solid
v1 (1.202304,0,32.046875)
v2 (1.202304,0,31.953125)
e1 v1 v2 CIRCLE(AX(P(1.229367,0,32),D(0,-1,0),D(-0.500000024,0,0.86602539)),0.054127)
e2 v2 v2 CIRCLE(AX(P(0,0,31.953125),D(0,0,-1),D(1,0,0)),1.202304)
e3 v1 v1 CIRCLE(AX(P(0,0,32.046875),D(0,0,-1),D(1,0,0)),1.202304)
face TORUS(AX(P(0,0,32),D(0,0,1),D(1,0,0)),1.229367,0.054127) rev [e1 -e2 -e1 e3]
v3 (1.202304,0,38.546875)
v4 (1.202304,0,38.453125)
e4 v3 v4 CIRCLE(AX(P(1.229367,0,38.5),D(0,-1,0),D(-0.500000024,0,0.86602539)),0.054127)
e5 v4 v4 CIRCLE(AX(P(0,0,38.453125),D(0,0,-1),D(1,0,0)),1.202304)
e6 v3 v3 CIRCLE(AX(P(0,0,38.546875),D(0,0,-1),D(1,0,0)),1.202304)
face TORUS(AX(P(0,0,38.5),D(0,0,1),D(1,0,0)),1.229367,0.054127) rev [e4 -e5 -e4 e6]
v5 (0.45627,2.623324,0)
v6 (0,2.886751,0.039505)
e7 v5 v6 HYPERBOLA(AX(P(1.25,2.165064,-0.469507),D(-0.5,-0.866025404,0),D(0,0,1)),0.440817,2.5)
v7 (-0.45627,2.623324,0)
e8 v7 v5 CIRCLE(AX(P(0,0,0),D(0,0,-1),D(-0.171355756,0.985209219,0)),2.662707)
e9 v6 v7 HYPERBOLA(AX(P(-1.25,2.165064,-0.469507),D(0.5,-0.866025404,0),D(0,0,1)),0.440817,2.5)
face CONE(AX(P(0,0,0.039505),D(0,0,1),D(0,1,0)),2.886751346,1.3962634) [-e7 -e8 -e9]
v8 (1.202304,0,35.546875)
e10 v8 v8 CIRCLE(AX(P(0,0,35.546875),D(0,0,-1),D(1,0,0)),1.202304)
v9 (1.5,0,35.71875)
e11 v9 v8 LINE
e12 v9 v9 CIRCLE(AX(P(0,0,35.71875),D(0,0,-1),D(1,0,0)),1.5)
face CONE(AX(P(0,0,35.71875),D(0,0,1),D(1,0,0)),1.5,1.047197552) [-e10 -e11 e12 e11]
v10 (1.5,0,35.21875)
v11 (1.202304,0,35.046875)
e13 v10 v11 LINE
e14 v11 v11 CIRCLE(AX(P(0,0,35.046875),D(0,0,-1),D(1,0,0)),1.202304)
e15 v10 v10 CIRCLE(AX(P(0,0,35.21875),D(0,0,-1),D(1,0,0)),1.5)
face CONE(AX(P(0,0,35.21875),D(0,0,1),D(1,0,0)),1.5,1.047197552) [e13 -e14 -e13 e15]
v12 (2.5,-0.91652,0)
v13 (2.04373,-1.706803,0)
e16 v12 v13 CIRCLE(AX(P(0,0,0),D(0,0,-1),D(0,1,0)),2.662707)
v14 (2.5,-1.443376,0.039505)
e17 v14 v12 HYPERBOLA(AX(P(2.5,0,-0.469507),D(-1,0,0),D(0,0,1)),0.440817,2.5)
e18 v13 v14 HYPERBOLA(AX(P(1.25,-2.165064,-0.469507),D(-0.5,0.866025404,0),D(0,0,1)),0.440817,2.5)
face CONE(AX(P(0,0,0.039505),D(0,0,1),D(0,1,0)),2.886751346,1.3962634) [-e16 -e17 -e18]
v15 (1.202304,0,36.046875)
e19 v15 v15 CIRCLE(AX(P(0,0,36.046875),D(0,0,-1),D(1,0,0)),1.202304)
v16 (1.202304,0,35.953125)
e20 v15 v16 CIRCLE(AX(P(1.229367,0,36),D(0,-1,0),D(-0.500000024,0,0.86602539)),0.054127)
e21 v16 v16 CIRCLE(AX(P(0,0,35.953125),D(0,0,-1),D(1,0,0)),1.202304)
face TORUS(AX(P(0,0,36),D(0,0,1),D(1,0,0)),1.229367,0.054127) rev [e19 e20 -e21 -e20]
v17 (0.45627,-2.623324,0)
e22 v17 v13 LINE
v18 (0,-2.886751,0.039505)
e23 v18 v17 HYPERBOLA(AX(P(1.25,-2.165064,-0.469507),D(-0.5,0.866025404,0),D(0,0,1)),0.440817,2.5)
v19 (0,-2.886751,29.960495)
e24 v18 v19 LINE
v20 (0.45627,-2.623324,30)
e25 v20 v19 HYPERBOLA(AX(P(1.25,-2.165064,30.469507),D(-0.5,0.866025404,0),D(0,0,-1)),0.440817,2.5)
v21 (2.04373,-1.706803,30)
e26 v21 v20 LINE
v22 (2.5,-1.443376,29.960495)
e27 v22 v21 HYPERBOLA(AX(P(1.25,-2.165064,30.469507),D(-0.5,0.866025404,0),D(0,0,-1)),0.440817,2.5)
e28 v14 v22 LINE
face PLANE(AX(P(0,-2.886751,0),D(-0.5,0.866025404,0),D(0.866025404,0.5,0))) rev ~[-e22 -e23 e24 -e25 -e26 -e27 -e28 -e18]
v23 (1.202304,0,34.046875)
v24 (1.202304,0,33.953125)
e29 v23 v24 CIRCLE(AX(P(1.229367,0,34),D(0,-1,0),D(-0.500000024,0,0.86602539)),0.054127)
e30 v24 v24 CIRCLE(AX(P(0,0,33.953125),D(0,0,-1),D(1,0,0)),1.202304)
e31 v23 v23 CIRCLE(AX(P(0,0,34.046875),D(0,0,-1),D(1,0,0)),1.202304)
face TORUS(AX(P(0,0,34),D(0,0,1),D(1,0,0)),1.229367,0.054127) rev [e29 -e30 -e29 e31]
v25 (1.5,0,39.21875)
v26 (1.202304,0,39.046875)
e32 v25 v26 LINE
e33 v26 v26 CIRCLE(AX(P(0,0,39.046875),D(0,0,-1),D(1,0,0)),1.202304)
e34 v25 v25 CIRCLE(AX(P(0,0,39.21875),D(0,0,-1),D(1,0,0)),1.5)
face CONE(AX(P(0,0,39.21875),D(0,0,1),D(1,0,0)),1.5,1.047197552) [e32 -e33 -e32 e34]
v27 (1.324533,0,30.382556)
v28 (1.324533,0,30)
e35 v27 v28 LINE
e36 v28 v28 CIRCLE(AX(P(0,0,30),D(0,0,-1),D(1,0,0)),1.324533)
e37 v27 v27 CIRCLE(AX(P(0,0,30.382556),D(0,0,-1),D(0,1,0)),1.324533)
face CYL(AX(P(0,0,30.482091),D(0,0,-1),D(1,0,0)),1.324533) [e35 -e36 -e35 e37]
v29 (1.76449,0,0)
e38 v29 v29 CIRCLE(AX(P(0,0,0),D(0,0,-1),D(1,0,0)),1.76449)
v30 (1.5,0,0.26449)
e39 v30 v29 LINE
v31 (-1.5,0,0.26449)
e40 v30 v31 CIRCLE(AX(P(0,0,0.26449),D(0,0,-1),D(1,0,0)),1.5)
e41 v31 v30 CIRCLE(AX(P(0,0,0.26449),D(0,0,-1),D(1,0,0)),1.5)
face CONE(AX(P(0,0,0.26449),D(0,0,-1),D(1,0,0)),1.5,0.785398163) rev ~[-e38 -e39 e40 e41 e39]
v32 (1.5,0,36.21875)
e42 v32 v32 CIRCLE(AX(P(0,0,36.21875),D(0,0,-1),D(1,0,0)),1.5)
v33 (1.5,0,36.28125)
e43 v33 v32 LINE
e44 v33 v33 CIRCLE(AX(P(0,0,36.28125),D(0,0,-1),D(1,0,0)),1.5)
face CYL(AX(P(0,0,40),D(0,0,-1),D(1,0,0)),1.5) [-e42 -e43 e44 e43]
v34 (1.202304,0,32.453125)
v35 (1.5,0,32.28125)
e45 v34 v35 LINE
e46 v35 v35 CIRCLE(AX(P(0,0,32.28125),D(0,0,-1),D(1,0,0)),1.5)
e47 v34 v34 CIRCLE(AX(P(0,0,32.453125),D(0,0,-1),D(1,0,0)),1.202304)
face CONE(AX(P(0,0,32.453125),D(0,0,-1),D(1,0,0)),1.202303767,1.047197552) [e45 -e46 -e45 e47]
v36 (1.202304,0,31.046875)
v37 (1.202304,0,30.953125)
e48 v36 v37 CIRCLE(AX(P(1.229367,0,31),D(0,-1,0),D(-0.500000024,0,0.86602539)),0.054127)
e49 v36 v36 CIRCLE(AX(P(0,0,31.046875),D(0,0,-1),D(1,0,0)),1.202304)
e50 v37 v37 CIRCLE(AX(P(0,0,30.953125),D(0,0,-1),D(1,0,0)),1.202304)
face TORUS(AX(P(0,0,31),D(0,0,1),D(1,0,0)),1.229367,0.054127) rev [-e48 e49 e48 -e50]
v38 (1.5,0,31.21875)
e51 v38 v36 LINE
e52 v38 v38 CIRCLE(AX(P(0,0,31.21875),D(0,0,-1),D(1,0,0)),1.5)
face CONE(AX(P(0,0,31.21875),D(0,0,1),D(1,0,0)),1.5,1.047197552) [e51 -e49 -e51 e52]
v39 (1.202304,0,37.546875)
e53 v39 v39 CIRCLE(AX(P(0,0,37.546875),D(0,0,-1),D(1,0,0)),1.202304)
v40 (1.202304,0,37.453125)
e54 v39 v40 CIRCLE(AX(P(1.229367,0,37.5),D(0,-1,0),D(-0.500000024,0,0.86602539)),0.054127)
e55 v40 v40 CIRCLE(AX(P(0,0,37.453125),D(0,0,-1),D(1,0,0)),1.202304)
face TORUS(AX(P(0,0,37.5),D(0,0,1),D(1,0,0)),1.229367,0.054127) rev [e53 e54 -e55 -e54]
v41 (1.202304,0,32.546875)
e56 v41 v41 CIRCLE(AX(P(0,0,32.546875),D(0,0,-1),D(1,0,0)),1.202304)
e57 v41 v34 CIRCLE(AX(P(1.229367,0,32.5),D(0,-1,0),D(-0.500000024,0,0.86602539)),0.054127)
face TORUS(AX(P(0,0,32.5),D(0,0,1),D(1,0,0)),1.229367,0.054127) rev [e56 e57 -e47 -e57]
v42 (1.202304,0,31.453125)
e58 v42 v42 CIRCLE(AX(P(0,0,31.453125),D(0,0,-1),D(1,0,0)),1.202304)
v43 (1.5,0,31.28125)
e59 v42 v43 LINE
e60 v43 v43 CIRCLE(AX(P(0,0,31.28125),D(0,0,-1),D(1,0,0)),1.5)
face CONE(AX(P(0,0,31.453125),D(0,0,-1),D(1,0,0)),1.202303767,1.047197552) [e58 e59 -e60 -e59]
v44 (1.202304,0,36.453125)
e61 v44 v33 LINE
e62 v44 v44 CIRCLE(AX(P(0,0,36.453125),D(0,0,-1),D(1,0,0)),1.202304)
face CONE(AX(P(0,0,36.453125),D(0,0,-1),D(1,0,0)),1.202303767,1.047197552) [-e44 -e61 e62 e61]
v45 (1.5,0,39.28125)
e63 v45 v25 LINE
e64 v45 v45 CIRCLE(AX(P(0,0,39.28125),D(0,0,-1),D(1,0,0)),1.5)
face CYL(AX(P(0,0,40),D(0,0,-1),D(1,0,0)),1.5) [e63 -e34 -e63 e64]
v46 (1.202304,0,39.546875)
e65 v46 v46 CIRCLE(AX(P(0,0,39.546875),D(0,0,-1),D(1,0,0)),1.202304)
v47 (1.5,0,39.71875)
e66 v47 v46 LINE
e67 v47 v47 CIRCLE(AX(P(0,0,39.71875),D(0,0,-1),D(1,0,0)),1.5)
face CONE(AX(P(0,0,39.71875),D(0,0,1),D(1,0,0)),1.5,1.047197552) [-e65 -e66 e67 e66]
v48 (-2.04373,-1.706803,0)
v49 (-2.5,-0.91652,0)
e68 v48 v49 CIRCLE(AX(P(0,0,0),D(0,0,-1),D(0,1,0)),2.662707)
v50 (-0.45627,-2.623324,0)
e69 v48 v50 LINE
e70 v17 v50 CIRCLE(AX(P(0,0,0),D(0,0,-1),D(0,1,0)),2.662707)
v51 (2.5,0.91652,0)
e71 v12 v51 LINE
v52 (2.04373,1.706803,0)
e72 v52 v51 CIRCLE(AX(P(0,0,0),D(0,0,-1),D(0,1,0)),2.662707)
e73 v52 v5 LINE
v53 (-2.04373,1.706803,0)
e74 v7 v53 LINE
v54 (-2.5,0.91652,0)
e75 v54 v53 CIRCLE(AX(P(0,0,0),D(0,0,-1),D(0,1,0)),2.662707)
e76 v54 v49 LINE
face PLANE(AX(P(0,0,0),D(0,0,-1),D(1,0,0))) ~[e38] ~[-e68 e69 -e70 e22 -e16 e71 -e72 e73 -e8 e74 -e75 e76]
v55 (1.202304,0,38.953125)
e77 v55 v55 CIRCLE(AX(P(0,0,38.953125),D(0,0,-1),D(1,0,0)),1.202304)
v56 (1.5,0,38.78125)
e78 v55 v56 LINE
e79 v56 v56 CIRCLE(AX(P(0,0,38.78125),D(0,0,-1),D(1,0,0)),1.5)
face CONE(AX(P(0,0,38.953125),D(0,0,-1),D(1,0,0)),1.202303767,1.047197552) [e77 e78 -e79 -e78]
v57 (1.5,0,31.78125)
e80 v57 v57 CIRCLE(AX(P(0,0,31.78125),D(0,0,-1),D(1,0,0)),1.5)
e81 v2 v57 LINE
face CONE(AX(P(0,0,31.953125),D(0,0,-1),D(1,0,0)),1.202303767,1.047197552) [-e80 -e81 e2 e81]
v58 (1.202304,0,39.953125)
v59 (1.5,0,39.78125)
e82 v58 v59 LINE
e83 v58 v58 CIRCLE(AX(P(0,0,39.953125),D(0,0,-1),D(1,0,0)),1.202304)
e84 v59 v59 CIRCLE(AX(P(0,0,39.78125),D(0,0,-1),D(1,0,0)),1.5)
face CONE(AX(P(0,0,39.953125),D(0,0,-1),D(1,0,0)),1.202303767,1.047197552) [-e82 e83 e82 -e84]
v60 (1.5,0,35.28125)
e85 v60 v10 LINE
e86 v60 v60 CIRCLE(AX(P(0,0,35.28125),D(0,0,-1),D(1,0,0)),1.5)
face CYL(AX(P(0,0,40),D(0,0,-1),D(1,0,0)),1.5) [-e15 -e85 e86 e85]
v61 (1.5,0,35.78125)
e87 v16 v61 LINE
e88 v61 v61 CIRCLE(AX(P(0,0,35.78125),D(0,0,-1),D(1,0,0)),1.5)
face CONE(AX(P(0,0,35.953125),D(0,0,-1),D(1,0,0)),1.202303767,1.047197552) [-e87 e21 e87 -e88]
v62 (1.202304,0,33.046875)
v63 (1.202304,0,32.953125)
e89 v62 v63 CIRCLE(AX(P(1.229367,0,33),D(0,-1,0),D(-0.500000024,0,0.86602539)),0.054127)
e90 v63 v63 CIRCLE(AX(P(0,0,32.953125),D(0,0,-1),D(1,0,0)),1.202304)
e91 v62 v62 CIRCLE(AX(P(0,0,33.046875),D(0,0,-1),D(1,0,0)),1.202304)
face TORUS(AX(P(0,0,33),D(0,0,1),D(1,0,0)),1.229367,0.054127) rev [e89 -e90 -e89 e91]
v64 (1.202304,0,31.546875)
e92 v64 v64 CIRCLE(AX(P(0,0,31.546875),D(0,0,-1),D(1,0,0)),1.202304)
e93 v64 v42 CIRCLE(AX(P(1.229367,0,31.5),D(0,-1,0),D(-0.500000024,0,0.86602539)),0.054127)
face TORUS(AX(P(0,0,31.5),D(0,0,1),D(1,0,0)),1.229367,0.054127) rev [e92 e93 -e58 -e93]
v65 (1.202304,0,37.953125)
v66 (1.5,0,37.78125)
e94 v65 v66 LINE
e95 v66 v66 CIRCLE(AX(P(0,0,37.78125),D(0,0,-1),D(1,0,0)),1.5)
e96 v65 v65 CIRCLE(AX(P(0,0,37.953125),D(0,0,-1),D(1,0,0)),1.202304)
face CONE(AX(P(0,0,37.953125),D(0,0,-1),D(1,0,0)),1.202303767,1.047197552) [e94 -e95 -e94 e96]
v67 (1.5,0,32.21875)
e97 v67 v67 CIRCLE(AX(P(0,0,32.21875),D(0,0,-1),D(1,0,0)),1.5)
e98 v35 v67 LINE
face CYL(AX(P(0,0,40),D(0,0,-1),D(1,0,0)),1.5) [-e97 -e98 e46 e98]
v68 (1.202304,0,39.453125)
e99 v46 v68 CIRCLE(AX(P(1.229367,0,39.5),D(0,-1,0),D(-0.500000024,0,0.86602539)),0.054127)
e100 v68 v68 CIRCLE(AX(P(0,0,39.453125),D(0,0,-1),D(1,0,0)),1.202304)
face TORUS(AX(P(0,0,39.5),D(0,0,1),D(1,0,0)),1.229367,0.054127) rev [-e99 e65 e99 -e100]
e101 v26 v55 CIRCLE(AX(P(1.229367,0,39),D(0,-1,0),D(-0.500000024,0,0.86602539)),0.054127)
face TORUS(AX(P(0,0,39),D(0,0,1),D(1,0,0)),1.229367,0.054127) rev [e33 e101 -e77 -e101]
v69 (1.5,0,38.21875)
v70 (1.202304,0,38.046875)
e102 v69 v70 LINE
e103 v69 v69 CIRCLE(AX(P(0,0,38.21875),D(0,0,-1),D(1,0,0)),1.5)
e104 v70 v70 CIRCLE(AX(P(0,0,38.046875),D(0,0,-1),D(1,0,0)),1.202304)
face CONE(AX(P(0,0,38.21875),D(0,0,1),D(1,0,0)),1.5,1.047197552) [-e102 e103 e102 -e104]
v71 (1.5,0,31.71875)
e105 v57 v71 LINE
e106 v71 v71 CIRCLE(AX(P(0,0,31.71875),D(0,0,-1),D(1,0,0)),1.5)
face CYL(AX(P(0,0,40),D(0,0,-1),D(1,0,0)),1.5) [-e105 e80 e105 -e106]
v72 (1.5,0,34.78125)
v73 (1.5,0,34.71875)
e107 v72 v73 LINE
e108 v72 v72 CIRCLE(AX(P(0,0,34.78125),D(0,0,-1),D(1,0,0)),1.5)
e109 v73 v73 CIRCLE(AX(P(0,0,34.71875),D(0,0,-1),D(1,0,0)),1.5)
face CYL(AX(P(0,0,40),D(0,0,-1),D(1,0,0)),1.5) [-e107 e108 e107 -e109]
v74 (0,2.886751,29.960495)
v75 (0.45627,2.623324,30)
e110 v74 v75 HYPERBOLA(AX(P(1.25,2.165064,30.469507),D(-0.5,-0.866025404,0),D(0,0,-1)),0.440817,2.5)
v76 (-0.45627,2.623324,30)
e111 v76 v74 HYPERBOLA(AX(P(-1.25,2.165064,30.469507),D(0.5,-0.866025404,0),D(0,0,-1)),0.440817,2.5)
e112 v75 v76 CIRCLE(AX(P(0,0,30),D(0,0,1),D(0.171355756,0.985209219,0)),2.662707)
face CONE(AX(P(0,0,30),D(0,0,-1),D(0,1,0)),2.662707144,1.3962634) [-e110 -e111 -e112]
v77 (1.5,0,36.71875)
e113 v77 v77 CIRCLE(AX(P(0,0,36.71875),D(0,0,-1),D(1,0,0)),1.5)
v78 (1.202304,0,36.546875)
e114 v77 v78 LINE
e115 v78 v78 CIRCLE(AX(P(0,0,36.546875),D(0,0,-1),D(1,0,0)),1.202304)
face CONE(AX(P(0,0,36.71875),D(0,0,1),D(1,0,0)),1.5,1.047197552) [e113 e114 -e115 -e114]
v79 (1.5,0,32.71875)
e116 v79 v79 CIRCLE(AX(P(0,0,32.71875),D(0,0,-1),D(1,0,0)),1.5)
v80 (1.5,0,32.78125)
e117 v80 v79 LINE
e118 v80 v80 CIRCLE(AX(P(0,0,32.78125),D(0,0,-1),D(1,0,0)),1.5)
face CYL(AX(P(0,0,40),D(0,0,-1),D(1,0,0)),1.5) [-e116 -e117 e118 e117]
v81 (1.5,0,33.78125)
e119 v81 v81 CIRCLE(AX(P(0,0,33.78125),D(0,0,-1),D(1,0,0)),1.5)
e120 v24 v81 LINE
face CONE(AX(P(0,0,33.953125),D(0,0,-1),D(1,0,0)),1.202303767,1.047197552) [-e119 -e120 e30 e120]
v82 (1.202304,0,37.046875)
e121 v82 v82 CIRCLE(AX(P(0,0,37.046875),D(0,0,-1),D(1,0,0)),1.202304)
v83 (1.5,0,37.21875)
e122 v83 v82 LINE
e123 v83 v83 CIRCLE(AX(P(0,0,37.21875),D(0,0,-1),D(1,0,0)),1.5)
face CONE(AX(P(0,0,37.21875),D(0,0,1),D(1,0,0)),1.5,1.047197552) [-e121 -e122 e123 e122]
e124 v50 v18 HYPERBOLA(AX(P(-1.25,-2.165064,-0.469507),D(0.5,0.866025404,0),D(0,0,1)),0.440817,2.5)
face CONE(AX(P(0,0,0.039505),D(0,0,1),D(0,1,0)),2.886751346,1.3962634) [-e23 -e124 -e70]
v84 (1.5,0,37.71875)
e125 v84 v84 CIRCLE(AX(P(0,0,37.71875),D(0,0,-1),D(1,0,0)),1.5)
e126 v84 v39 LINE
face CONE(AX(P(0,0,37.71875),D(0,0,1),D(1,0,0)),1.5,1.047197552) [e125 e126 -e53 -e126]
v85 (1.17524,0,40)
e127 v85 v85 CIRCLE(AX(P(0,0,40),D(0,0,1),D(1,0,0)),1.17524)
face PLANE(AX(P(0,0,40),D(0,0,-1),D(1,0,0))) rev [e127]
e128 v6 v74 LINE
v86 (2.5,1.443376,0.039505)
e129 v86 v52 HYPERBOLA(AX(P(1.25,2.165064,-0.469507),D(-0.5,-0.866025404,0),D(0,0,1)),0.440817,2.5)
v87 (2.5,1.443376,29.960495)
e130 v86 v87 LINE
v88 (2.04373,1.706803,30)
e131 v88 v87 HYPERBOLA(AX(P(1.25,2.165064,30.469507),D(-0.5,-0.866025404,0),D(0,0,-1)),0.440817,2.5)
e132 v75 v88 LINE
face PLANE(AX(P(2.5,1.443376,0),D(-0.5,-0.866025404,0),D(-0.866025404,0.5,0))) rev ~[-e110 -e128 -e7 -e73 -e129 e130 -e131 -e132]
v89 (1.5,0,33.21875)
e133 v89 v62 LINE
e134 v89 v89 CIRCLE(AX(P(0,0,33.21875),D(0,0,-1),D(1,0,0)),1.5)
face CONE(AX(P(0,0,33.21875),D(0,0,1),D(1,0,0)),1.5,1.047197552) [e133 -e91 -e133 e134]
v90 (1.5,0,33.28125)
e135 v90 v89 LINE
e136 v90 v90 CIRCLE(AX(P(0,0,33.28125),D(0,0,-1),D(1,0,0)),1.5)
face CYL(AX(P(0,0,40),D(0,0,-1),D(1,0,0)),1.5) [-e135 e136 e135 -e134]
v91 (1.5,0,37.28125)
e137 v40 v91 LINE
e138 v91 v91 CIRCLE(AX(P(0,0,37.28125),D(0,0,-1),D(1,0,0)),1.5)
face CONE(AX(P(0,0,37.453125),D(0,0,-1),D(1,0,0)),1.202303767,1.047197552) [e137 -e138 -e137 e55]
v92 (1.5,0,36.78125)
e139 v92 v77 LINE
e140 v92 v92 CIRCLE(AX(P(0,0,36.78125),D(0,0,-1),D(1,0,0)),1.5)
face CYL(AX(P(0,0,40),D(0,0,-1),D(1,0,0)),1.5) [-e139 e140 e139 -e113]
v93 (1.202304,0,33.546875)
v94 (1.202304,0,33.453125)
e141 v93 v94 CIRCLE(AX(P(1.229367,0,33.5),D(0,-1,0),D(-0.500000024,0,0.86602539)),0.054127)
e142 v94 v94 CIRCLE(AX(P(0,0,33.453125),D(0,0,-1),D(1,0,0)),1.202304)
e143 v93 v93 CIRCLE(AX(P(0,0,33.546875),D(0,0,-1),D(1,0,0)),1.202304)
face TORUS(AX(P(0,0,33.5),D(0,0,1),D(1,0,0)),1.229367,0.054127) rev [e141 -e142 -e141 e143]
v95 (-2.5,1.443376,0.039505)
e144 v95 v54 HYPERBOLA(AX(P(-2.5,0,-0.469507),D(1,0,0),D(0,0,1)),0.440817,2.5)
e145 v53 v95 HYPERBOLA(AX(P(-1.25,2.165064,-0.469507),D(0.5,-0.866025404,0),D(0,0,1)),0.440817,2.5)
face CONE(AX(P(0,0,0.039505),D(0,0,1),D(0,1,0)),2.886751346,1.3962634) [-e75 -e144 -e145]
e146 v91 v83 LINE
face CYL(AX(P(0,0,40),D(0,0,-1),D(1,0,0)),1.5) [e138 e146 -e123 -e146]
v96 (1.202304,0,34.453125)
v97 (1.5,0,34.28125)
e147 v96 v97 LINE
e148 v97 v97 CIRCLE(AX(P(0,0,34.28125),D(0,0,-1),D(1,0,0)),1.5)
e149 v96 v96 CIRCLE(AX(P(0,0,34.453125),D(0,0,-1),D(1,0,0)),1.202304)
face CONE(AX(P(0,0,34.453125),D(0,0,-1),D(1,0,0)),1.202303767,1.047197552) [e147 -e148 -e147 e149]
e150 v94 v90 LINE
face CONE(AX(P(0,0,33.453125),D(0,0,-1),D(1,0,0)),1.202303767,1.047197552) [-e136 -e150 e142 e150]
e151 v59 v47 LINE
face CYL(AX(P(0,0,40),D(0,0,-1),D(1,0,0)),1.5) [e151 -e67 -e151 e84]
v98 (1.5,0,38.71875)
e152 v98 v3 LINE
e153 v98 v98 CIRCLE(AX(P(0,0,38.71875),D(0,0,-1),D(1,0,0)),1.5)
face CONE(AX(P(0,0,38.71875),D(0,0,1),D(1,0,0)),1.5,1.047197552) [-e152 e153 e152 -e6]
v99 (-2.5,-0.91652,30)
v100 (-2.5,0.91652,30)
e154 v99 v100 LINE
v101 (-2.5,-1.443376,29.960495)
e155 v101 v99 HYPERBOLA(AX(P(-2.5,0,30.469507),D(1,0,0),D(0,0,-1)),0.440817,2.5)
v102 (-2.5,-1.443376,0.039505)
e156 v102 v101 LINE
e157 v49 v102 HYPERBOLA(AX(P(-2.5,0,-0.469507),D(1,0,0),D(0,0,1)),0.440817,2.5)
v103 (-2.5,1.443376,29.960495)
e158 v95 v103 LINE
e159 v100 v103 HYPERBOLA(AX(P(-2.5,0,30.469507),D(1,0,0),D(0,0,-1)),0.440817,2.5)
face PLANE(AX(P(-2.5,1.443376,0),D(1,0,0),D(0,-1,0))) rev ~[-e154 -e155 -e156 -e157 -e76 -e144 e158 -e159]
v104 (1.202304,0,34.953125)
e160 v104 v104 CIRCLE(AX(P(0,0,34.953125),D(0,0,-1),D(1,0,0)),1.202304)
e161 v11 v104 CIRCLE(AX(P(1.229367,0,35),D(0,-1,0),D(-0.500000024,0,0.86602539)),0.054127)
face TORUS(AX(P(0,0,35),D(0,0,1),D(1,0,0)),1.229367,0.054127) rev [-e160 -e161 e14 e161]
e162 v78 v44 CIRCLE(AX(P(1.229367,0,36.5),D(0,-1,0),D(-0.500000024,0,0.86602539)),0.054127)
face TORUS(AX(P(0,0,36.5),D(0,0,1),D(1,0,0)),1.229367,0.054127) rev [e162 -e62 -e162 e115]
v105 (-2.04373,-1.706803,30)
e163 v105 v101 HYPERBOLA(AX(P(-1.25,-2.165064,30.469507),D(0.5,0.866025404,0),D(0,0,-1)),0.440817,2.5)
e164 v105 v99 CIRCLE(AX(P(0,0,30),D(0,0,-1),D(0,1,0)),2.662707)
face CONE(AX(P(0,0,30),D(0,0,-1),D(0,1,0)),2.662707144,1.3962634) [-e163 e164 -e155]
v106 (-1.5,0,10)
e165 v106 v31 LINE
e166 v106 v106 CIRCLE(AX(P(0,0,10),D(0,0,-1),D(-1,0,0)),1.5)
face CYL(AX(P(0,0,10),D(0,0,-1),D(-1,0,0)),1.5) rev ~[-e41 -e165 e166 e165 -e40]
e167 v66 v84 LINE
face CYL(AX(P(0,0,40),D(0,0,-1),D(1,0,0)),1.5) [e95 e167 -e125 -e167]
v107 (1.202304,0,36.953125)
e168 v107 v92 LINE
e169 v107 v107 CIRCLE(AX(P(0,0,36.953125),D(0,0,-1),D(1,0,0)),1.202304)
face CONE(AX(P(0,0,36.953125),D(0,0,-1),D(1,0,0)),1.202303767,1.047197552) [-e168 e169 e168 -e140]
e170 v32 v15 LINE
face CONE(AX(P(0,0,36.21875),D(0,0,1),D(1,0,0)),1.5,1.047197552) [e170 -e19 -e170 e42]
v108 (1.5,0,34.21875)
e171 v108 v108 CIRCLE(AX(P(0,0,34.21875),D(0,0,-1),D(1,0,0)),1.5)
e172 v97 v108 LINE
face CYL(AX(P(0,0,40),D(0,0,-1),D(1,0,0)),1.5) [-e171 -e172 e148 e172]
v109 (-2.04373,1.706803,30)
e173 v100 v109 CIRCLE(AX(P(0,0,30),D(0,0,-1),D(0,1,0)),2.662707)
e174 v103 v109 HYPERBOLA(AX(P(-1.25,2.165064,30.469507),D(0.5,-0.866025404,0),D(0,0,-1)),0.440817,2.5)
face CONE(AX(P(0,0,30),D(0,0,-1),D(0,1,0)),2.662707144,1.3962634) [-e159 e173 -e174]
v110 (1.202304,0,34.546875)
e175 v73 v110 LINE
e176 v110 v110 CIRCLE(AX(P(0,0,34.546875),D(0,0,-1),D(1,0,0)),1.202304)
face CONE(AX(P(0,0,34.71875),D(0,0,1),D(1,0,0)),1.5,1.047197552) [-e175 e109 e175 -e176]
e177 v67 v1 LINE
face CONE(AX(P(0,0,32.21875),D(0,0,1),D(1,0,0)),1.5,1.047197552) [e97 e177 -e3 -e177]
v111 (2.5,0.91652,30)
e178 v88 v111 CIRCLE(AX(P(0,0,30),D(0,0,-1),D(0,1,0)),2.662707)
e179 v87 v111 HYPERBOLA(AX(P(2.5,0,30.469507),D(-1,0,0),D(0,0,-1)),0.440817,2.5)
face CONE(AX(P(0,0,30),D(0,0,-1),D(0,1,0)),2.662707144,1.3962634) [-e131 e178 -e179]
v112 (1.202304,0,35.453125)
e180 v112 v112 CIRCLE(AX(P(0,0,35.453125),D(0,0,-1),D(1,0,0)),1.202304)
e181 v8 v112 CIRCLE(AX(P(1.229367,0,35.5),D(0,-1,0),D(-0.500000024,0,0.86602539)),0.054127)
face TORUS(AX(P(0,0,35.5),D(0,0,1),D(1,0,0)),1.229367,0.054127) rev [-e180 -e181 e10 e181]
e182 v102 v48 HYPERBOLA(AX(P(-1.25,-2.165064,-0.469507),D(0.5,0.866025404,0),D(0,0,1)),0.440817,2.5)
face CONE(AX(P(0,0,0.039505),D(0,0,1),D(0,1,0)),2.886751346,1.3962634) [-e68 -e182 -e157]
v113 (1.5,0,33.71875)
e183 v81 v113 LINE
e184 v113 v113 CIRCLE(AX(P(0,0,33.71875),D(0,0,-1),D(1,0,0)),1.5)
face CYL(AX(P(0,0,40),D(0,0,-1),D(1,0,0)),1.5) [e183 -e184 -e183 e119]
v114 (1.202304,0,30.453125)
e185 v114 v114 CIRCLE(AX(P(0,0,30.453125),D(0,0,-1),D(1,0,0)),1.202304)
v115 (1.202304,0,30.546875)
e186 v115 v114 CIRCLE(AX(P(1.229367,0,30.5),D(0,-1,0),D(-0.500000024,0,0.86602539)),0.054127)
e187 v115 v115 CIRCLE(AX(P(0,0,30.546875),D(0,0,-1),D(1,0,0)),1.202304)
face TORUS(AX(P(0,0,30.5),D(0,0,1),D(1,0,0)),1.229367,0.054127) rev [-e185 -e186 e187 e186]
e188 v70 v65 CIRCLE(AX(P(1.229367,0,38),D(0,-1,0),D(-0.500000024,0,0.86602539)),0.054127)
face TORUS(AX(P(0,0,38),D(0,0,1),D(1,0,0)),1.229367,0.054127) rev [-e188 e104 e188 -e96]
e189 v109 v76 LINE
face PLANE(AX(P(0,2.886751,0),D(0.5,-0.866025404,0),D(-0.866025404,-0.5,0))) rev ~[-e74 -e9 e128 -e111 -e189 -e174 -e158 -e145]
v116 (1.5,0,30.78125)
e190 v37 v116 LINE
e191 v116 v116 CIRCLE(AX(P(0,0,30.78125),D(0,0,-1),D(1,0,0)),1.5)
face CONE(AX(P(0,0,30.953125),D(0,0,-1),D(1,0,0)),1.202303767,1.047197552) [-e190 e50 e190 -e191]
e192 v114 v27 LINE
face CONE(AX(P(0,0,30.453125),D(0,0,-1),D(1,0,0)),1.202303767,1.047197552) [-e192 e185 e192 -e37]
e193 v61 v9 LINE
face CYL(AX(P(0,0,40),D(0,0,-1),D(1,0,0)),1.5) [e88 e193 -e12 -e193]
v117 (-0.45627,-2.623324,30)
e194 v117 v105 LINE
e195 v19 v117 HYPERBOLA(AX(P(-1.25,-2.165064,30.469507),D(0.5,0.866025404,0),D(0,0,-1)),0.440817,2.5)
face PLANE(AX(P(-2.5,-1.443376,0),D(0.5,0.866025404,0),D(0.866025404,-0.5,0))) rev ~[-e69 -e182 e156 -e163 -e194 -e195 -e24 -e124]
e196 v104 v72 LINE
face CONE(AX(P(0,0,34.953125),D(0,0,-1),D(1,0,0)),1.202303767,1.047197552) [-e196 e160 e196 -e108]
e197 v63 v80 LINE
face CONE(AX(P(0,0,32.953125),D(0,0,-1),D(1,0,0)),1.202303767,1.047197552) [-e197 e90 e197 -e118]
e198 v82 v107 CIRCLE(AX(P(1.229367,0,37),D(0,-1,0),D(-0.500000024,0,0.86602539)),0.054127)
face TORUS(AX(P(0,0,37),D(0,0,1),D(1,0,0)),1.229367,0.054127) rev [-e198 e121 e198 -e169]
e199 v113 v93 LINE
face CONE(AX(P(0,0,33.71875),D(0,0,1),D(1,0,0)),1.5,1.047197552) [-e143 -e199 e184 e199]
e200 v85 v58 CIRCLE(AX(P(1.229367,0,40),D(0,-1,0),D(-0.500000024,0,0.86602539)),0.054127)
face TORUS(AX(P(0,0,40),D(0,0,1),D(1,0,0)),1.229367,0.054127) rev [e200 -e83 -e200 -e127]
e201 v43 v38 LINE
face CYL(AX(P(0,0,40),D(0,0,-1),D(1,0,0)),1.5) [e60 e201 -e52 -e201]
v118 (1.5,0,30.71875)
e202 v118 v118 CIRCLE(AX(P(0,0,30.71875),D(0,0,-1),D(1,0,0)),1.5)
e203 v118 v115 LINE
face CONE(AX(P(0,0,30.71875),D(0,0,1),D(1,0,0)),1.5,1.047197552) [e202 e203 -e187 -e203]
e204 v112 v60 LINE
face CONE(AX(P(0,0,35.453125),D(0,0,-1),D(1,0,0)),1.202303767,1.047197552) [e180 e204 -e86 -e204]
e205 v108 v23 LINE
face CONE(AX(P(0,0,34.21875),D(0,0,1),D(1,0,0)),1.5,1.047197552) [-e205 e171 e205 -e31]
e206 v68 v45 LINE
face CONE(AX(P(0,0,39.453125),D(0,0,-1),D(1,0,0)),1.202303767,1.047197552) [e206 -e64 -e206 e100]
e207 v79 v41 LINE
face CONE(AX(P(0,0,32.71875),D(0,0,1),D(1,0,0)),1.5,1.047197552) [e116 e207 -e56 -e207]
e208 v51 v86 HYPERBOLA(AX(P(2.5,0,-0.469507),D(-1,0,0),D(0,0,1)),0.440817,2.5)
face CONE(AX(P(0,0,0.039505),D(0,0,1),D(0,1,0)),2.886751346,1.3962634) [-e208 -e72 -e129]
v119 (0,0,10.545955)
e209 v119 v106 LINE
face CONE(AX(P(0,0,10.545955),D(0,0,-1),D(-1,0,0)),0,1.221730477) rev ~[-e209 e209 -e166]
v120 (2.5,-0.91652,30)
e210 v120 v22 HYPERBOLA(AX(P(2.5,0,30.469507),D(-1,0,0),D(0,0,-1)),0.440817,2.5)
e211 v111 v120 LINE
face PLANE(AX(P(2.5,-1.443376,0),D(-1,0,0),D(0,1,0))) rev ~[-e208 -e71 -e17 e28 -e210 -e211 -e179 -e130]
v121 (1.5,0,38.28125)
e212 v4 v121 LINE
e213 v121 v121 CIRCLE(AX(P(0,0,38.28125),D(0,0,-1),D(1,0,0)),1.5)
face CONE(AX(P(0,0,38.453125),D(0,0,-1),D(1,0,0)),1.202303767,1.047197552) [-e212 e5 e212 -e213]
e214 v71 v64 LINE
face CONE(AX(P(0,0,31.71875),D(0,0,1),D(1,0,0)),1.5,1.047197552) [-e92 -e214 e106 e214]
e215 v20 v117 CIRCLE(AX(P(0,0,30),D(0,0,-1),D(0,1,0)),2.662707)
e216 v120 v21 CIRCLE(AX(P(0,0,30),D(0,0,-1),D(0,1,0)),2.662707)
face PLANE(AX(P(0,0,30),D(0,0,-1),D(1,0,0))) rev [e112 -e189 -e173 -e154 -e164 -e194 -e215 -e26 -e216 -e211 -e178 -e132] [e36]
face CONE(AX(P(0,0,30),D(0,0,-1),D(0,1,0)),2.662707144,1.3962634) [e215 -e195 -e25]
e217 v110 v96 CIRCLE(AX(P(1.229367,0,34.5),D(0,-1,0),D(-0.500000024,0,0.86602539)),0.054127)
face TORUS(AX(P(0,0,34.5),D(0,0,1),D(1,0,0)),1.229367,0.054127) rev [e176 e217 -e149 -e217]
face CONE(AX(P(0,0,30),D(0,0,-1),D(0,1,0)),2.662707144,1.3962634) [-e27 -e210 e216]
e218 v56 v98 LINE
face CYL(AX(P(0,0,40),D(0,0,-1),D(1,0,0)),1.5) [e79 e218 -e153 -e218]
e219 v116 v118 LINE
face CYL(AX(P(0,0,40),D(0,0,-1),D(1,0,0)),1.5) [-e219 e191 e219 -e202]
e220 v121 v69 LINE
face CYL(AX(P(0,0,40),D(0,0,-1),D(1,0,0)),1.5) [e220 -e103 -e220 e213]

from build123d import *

# Parameters (mm, degrees)
SKETCH5_W            = 30
SKETCH5_H            = 2.886751346
SKETCH11_OUTSIDE_W   = 13.992
SKETCH11_OUTSIDE_H   = 13.992
CUT_PROFILE_DEPTH    = 31.276503541
PATTERN_THREAD_COUNT = 20
PATTERN_THREAD_PITCH = 0.5


with BuildPart() as part:
    # Sketch5 → body (revolve)
    with BuildSketch(Plane(origin=(0, 0, 0), x_dir=(0, 0, -1), z_dir=(1, 0, 0)), mode=Mode.PRIVATE) as body_sk:
        with Locations((-15, 1.443375673)):
            Rectangle(SKETCH5_W, SKETCH5_H)
    revolve(body_sk.sketch.rotate(Axis((0, 0, 255.103275), (0, 0, -1)), 90), axis=Axis((0, 0, 255.103275), (0, 0, -1)))

    # Sketch11 outside → cut-profile (cut, through all)
    with BuildSketch(Plane.XY):
        Rectangle(SKETCH11_OUTSIDE_W, SKETCH11_OUTSIDE_H)
        Polygon((2.5, -1.443375673), (2.5, 1.443375673), (0, 2.886751346), (-2.5, 1.443375673), (-2.5, -1.443375673), (0, -2.886751346), align=None, mode=Mode.SUBTRACT)
    extrude(amount=CUT_PROFILE_DEPTH, mode=Mode.SUBTRACT)

    # Sketch13 → cosmetic-cuts (revolve, cut)
    with BuildSketch(Plane(origin=(0, 0, 0), x_dir=(0, 0, -1), z_dir=(1, 0, 0))):
        Polygon((-30, 2.662707144), (-29.960494962, 2.886751346), (-30, 2.886751346), align=None)
        Polygon((0, 2.886751346), (-0.039505038, 2.886751346), (0, 2.662707144), align=None)
    revolve(axis=Axis((0, 0, 255.103275), (0, 0, -1)), mode=Mode.SUBTRACT)

    # Sketch6 → cut-front-hole (revolve, cut)
    with BuildSketch(Plane(origin=(0, 0, 0), x_dir=(0, 0, -1), z_dir=(1, 0, 0)), mode=Mode.PRIVATE) as cut_front_hole_sk:
        Polygon((0, 0), (-10.545955351, 0), (-10, 1.5), (0, 1.5), align=None)
    revolve(cut_front_hole_sk.sketch.rotate(Axis((0, 0, 255.103275), (0, 0, -1)), 270), axis=Axis((0, 0, 255.103275), (0, 0, -1)), mode=Mode.SUBTRACT)

    # Sketch8 → cut-front-chamfer (revolve, cut)
    with BuildSketch(Plane(origin=(0, 0, 0), x_dir=(0, 0, -1), z_dir=(1, 0, 0)), mode=Mode.PRIVATE) as cut_front_chamfer_sk:
        Polygon((0, 1.764490471), (0, 1.5), (-0.264490471, 1.5), align=None)
    revolve(cut_front_chamfer_sk.sketch.rotate(Axis((0, 0, 255.103275), (0, 0, -1)), 90), axis=Axis((0, 0, 255.103275), (0, 0, -1)), mode=Mode.SUBTRACT)

    # Sketch20 → body-shaft (revolve)
    with BuildSketch(Plane(origin=(0, 0, 0), x_dir=(0, 0, -1), z_dir=(1, 0, 0)), mode=Mode.PRIVATE) as body_shaft_sk:
        Polygon((-30, 1.324533332), (-30, 0), (-40, 0), (-40, 1.5), (-30.482090707, 1.5), (-30.482090707, 1.324533332), align=None)
    revolve(body_shaft_sk.sketch.rotate(Axis((0, 0, 255.103275), (0, 0, -1)), 90), axis=Axis((0, 0, 255.103275), (0, 0, -1)))

    # Sketch21 → cut-thread-simple (revolve, cut)
    with BuildSketch(Plane(origin=(0, 0, 0), x_dir=(0, 0, -1), z_dir=(1, 0, 0)), mode=Mode.PRIVATE) as cut_thread_simple_sk:
        with BuildLine():
            Line((-39.953125, -1.202303767), (-39.78125, -1.5))
            Line((-39.78125, -1.5), (-40.21875, -1.5))
            Line((-40.21875, -1.5), (-40.046875, -1.202303767))
            ThreePointArc((-40.046875, -1.202303767), (-40, -1.175240474), (-39.953125, -1.202303767))
        make_face()
    cut_thread_simple = revolve(cut_thread_simple_sk.sketch.rotate(Axis((0, 0, 255.103275), (0, 0, -1)), 270), axis=Axis((0, 0, 255.103275), (0, 0, -1)), mode=Mode.SUBTRACT)

    # pattern-thread: cut-thread-simple ×20
    with Locations(*[(0, 0, -i * PATTERN_THREAD_PITCH) for i in range(1, PATTERN_THREAD_COUNT)]):
        add(cut_thread_simple, mode=Mode.SUBTRACT)


solid = part.part
